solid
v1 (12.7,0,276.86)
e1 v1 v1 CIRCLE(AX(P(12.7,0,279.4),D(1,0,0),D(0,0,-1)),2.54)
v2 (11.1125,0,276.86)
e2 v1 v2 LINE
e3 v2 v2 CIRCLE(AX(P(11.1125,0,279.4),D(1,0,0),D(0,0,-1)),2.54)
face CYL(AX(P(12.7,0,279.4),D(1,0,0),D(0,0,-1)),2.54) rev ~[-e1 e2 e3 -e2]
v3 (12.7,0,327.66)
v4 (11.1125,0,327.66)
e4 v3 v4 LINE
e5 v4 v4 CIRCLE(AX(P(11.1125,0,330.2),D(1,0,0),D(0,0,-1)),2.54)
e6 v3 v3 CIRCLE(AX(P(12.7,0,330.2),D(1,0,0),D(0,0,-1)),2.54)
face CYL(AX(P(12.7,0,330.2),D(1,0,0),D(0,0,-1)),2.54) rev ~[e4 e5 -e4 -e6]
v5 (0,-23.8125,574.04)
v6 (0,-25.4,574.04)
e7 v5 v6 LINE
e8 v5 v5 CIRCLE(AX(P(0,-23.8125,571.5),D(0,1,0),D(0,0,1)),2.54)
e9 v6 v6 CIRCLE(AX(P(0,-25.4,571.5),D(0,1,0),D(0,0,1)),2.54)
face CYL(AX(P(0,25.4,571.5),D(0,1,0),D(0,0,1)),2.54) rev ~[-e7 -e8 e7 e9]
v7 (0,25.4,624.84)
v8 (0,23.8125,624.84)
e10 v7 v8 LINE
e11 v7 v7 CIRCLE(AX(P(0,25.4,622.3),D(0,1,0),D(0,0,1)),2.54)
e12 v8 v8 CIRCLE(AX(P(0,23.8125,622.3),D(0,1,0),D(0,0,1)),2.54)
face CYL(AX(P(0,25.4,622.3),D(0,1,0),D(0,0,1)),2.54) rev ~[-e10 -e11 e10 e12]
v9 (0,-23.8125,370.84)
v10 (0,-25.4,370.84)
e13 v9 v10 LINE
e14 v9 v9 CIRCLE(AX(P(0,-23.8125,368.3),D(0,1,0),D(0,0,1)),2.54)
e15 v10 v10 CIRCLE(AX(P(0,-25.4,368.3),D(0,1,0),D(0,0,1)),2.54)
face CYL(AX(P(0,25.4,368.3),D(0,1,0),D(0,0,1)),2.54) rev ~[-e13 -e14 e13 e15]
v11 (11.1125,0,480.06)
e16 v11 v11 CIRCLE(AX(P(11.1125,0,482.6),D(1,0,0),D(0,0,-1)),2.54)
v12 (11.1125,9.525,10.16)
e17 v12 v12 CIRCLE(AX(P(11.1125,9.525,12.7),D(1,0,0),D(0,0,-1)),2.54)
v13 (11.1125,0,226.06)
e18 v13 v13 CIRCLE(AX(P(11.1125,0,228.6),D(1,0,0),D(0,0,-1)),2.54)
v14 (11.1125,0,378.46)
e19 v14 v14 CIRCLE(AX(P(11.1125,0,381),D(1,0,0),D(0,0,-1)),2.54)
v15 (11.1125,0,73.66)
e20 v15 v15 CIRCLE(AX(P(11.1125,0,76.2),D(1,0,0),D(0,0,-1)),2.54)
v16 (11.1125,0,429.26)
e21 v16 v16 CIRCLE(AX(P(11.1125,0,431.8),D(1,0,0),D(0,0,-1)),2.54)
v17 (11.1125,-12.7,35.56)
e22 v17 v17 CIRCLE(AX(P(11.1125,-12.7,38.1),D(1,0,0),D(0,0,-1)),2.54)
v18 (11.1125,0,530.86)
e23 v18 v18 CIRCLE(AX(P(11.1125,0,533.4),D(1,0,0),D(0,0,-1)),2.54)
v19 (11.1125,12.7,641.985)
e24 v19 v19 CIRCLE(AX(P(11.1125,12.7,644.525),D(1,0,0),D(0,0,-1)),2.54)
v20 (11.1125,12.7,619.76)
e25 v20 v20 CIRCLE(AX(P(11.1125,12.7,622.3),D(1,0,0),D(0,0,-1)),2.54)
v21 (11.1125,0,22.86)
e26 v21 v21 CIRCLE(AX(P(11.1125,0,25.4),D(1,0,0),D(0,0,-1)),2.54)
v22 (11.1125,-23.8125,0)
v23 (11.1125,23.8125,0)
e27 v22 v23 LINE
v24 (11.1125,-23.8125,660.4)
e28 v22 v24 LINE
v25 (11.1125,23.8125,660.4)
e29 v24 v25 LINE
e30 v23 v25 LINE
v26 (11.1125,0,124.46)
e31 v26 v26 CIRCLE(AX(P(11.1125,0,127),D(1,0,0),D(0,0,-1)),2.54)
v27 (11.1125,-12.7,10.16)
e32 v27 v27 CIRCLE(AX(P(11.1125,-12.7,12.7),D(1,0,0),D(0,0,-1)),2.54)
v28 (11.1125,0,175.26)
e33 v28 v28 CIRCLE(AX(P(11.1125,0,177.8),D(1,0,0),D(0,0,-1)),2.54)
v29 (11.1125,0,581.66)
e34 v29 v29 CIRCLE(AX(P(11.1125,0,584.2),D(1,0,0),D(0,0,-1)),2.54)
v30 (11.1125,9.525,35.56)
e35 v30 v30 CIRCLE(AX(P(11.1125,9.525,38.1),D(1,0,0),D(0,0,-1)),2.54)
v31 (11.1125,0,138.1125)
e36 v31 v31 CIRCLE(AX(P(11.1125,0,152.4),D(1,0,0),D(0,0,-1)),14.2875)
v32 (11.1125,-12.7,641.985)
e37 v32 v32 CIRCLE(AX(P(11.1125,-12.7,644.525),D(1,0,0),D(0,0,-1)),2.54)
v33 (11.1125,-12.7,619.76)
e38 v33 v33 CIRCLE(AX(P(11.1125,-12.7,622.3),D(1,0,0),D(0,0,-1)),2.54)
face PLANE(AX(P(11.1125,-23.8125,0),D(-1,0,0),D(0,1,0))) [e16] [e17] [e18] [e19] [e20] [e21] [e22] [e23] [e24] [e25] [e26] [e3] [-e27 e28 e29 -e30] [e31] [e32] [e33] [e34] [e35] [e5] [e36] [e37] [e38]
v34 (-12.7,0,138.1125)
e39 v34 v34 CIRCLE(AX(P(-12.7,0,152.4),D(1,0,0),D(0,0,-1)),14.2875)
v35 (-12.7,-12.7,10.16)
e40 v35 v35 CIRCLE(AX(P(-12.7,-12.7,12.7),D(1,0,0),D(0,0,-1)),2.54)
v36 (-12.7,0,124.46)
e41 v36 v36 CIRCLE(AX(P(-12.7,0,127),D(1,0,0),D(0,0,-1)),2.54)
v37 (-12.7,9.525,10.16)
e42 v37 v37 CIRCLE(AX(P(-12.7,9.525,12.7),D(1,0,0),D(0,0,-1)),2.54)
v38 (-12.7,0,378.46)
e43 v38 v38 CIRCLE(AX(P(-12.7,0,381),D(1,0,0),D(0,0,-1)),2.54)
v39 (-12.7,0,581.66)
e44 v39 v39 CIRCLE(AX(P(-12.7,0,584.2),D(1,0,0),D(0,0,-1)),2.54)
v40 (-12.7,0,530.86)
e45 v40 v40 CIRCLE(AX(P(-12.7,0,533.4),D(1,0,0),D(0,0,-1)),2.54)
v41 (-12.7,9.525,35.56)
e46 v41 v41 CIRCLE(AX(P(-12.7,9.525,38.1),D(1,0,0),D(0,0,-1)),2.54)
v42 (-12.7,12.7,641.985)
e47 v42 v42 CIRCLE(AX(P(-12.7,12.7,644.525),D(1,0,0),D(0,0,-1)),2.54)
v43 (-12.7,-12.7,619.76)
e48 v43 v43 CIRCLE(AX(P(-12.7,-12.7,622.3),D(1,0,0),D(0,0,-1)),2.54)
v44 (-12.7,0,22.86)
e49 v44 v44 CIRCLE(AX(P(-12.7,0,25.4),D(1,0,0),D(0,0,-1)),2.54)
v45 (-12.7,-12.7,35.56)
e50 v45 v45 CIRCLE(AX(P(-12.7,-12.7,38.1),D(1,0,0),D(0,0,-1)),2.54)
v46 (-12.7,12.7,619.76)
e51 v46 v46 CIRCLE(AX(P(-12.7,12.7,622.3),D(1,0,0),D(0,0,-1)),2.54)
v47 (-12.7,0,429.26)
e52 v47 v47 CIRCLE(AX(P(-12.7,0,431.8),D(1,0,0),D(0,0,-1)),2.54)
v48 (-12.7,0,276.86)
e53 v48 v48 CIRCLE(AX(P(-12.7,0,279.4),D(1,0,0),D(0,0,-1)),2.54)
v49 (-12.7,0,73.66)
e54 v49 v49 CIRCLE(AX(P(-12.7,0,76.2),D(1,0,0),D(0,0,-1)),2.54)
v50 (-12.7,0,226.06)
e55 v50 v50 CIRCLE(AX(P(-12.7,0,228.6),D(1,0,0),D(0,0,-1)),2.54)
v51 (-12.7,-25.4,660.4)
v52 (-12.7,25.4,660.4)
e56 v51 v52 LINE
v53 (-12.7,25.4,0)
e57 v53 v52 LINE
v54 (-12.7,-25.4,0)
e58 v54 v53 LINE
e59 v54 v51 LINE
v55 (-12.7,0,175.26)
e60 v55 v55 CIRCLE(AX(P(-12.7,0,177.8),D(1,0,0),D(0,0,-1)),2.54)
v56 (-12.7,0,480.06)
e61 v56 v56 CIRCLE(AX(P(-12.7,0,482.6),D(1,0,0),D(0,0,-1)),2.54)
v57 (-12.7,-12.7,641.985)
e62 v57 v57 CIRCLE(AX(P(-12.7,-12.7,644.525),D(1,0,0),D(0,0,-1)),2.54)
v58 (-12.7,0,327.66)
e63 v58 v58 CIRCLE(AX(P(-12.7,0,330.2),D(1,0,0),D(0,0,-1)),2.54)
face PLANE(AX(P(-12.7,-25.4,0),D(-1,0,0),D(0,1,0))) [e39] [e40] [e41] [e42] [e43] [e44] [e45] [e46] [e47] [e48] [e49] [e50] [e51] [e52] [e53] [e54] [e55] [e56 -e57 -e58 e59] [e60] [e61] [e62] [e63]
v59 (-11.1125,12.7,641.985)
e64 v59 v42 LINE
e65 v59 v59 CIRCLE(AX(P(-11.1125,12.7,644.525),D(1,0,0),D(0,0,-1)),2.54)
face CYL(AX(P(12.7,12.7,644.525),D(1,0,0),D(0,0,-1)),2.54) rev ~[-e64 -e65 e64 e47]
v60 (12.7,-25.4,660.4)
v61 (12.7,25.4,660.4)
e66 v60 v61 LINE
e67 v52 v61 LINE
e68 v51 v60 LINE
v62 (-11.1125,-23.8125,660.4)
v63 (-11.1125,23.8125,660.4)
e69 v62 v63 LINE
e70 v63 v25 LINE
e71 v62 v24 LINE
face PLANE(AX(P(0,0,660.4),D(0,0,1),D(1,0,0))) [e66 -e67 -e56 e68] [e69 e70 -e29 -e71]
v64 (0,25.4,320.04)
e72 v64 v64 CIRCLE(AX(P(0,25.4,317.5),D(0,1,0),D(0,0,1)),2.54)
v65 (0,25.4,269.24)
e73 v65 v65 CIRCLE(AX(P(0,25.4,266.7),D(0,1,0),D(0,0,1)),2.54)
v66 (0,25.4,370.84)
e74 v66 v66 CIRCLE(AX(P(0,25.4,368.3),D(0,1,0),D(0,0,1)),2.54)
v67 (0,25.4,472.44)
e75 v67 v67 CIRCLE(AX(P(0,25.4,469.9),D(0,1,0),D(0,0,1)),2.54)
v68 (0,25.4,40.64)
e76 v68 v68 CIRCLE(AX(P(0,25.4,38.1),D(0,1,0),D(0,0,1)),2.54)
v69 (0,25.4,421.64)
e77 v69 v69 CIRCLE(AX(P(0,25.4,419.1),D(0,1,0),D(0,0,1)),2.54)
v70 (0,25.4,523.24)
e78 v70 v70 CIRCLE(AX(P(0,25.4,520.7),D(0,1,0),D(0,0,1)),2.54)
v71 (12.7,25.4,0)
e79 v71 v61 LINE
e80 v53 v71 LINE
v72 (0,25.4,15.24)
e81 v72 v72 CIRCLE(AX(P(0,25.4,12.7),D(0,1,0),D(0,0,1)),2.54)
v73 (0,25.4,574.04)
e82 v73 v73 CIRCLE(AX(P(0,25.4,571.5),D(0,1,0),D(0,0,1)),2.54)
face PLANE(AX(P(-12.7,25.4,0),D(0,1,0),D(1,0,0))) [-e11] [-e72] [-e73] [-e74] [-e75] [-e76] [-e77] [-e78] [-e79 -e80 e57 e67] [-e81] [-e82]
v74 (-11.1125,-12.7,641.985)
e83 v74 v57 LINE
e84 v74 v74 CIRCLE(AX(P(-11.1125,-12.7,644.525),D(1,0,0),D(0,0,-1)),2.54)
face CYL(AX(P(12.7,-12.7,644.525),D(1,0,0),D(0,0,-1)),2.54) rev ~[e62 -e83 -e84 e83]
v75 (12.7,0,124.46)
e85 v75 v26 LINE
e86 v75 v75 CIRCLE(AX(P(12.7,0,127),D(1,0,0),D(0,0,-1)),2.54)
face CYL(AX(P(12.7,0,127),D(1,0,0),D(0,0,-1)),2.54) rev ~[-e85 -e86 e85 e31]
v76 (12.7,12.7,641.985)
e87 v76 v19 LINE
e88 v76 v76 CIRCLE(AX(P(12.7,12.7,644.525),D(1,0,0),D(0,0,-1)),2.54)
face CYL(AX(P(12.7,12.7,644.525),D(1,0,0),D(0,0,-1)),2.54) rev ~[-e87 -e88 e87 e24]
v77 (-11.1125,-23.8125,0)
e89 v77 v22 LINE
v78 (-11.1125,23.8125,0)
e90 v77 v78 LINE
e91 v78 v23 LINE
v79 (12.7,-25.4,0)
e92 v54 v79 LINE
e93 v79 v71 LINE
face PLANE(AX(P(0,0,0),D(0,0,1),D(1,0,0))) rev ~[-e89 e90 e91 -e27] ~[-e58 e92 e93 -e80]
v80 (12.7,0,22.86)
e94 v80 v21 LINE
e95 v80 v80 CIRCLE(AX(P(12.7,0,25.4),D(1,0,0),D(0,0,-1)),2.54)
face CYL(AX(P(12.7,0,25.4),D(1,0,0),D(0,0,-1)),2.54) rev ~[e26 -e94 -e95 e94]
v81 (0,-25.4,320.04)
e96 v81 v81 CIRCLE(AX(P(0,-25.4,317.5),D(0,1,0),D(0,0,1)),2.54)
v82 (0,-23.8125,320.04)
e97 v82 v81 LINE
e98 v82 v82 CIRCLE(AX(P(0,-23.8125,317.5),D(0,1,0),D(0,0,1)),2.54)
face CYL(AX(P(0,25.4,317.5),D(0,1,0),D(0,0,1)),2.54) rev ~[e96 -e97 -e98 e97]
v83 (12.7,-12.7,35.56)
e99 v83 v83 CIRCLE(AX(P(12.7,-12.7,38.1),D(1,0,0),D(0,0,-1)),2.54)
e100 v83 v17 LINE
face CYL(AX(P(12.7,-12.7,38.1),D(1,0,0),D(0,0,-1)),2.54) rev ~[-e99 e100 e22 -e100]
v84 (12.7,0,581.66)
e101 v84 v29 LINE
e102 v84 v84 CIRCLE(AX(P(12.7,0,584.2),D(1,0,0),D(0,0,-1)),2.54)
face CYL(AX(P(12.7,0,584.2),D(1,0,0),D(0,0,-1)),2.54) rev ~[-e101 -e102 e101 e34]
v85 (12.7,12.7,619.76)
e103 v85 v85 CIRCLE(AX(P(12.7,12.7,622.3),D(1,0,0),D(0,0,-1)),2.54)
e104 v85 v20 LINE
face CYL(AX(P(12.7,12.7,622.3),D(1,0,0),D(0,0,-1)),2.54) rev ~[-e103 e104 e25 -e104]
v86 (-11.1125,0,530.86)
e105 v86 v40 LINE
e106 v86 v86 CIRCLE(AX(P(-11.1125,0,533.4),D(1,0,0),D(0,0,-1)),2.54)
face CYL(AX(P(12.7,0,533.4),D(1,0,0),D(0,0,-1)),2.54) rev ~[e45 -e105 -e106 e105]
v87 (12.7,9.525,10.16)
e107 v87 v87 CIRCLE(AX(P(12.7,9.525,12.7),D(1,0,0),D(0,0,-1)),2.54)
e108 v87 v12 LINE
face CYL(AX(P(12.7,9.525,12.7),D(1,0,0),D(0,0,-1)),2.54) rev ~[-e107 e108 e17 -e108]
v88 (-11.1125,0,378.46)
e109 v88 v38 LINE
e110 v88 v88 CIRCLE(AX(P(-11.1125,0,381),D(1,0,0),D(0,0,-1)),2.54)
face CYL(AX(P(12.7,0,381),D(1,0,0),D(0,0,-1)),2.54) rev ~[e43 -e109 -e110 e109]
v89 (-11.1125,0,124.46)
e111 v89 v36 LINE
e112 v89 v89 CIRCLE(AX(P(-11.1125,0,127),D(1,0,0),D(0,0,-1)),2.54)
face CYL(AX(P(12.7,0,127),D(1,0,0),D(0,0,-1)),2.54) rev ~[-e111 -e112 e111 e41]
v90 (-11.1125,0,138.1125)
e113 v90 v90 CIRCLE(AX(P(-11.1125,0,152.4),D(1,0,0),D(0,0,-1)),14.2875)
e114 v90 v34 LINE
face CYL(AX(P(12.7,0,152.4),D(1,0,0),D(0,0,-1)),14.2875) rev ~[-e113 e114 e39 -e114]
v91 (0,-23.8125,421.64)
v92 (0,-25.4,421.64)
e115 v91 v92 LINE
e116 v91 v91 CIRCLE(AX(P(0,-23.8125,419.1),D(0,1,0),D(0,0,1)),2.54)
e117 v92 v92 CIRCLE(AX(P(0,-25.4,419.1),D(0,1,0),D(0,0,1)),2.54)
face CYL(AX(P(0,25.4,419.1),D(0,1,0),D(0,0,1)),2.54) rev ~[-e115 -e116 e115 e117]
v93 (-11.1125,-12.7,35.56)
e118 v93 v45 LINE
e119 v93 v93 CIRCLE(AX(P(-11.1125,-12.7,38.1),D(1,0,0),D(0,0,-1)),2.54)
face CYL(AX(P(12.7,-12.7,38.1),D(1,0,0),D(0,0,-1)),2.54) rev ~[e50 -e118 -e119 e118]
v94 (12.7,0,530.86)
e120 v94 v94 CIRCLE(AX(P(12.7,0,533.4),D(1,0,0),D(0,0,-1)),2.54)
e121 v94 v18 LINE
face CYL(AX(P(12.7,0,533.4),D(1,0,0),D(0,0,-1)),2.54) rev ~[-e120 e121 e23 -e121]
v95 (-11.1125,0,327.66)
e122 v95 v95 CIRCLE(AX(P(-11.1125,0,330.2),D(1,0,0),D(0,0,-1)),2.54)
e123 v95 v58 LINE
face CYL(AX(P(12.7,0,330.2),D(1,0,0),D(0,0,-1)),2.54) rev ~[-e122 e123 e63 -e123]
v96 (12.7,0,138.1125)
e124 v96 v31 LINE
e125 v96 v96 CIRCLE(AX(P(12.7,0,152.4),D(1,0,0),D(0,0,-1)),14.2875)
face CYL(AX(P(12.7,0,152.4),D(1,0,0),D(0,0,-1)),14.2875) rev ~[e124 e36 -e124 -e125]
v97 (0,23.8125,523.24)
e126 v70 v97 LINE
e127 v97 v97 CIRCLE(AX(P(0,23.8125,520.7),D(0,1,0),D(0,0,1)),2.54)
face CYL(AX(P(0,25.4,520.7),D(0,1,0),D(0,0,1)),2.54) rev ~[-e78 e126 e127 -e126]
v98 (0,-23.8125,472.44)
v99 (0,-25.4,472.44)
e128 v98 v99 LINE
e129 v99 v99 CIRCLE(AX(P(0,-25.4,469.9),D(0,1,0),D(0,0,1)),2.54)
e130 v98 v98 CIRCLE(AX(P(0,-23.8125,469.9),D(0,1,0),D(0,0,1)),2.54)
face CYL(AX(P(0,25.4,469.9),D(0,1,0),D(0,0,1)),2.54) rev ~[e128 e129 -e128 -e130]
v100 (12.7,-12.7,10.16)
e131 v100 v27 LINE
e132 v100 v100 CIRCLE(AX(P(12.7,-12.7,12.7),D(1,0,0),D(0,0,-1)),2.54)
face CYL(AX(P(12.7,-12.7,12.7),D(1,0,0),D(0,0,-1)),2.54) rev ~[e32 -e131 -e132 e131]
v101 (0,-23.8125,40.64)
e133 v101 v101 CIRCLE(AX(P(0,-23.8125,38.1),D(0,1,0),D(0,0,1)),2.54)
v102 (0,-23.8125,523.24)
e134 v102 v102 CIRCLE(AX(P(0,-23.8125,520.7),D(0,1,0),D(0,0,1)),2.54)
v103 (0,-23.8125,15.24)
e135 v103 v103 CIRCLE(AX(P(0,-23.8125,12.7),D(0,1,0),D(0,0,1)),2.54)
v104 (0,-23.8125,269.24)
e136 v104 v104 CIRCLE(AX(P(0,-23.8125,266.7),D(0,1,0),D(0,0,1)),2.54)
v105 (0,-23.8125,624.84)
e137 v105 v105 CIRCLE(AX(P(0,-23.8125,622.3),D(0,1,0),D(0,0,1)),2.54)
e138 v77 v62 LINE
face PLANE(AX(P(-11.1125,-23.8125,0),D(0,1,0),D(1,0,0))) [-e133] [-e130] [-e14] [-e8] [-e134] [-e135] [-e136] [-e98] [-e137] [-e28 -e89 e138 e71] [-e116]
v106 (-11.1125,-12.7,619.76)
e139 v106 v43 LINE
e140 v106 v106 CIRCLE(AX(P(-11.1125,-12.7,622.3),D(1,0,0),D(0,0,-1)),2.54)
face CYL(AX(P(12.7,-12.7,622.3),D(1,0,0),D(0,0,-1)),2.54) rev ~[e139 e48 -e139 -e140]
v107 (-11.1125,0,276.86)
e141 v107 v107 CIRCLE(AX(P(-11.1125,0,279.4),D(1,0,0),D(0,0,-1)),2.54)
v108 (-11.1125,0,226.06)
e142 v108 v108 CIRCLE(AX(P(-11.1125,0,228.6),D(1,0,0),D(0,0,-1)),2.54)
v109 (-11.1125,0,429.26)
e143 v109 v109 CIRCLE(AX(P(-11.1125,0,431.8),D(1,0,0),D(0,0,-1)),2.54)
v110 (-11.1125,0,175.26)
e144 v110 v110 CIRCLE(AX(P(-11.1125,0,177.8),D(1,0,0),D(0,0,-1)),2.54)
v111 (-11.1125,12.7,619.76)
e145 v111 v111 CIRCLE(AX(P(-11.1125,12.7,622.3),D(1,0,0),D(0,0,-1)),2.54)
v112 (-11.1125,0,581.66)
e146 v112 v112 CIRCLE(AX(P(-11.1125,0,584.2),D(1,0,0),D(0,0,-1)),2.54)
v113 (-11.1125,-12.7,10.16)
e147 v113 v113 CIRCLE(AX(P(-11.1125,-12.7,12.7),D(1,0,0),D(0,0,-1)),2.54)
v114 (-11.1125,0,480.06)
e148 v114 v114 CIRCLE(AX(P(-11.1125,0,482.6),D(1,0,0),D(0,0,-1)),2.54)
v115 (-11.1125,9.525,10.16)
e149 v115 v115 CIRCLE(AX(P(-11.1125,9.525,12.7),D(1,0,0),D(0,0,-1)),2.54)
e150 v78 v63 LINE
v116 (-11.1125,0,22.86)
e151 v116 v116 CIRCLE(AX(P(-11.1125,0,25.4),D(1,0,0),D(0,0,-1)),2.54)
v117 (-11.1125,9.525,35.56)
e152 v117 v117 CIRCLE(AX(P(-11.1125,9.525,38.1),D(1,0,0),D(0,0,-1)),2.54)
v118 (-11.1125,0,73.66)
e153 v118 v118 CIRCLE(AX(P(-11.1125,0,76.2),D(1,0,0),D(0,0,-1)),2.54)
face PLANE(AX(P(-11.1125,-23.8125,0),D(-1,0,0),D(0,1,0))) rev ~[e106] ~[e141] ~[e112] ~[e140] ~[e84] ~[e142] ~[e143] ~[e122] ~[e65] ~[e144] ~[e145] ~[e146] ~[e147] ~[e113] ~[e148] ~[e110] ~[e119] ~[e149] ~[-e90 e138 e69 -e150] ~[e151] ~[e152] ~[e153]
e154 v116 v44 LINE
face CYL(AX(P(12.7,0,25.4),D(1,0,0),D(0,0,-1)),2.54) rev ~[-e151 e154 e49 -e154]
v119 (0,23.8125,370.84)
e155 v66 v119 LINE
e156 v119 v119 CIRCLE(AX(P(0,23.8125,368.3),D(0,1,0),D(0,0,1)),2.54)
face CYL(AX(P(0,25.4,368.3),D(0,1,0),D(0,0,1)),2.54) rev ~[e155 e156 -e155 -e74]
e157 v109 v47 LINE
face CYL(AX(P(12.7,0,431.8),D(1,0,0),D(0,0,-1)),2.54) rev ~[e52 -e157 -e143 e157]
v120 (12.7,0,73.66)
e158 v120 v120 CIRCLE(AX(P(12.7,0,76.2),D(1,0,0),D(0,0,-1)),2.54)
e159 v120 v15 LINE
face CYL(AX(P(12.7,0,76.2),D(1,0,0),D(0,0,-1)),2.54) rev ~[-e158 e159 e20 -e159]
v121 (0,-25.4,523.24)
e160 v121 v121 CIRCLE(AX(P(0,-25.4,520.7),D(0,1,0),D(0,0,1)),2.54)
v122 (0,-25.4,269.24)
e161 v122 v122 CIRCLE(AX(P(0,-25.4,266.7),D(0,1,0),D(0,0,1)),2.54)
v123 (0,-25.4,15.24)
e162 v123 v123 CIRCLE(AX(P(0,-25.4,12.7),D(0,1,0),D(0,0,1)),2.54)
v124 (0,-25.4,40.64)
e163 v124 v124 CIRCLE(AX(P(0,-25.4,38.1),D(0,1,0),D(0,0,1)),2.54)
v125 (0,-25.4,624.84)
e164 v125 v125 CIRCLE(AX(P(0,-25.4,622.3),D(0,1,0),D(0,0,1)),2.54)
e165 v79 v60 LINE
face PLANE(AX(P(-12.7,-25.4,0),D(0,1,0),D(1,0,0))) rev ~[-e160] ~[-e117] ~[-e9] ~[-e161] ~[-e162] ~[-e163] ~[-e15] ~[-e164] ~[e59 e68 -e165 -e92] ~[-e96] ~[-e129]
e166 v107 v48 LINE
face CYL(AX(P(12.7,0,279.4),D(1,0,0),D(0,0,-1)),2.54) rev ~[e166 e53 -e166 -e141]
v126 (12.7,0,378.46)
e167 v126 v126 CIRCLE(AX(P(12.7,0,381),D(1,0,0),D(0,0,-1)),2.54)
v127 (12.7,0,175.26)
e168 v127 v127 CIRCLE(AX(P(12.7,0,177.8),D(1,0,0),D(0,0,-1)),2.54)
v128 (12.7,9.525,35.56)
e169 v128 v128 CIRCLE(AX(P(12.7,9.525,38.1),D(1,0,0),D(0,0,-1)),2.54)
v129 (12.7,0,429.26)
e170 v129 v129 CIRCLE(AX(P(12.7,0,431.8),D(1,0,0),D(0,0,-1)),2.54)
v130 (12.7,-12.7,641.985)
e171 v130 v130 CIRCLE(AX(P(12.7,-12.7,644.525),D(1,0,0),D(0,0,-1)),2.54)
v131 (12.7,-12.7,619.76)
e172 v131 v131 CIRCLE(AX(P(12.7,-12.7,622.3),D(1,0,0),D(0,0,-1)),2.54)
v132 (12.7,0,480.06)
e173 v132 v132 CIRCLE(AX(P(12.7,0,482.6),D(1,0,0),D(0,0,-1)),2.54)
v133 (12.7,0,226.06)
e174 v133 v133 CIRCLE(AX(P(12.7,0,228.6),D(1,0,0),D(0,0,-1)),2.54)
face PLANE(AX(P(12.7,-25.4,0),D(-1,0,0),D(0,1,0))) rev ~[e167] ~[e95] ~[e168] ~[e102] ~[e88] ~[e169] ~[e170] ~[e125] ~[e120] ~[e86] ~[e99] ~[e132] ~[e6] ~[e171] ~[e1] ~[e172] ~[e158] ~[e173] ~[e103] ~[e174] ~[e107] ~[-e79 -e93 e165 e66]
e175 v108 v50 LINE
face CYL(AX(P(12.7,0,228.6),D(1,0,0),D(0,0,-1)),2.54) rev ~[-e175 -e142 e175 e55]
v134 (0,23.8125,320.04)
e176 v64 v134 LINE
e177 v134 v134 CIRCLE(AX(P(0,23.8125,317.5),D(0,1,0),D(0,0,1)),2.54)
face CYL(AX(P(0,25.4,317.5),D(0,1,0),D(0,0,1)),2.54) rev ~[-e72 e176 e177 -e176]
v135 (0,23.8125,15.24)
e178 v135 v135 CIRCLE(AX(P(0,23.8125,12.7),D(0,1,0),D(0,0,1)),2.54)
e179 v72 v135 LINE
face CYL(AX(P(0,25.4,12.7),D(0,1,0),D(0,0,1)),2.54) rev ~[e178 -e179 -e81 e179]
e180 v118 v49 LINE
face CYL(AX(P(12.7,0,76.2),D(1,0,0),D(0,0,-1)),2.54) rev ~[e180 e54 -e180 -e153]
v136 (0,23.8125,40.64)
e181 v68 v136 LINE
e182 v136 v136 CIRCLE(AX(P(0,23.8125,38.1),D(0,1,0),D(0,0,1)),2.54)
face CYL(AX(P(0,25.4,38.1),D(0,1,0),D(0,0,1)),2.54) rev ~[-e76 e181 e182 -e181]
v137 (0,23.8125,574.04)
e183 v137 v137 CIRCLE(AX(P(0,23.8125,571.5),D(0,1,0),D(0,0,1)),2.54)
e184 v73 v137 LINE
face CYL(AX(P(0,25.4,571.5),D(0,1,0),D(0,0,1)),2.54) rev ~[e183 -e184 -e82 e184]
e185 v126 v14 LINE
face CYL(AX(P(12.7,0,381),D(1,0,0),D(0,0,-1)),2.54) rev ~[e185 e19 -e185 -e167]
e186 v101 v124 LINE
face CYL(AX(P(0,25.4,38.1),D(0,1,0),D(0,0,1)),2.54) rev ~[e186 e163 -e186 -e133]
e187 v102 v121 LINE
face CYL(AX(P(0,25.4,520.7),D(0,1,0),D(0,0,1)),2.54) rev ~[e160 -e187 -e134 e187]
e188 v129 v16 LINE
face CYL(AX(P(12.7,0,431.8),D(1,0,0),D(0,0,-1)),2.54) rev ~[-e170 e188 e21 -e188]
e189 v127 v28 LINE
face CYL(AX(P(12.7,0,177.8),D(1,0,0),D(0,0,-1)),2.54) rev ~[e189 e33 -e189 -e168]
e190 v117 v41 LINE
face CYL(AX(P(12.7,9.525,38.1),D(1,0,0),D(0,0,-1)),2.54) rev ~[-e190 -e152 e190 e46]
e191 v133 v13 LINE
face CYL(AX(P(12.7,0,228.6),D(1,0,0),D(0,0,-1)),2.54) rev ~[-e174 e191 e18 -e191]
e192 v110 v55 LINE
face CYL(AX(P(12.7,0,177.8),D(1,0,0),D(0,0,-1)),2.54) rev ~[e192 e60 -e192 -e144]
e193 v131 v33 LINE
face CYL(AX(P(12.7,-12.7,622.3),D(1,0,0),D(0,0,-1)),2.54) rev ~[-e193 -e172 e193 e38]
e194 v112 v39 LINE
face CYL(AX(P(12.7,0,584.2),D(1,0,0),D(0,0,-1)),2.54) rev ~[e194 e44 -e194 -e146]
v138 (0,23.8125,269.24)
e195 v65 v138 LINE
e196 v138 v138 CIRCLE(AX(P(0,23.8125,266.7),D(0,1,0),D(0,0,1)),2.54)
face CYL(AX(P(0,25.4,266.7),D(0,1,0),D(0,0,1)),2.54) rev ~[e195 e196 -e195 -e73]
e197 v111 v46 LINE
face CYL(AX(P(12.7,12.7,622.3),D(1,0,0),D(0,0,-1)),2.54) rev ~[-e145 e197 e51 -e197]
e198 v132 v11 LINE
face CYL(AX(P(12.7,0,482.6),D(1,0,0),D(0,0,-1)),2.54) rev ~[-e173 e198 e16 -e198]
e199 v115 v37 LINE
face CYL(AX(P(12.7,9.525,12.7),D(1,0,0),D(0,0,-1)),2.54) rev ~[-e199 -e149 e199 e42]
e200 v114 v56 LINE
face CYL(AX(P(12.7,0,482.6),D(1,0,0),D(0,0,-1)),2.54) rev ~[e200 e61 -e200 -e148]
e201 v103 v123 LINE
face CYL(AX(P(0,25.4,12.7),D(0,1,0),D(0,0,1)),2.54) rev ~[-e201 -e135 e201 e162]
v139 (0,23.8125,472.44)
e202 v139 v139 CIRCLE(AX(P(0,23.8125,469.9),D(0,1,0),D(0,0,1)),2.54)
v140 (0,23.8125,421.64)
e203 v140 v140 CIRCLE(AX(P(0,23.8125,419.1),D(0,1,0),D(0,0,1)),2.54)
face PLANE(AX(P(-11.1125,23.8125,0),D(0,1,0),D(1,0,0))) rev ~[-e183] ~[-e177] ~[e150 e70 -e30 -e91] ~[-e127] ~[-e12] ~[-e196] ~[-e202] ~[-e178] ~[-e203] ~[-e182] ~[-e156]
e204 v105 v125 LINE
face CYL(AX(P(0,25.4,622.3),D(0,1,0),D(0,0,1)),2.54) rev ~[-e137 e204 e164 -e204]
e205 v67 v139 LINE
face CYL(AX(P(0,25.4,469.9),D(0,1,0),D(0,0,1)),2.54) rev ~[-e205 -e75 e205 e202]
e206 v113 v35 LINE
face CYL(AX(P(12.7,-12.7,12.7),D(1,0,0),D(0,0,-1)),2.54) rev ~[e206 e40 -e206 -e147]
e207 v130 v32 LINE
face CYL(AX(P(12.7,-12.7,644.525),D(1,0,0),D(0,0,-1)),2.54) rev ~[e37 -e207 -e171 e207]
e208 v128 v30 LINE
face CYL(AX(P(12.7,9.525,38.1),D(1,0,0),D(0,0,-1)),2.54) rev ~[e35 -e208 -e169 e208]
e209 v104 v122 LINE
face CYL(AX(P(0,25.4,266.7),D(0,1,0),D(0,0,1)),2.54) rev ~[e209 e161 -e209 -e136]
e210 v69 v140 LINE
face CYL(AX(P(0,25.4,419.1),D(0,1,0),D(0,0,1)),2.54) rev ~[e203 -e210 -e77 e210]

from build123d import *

# Parameters (mm, degrees)
SKETCH1_W           = 25.4
SKETCH1_H           = 50.8
SKETCH1_W_2         = 22.225
SKETCH1_H_2         = 47.625
BOSS_EXTRUDE1_DEPTH = 660.4
SKETCH2_R           = 2.54
SKETCH2_R_2         = 14.2875
CUT_EXTRUDE1_DEPTH  = 662.376201568
SKETCH3_R           = 2.54
CUT_EXTRUDE3_DEPTH  = 663.472708872


with BuildPart() as part:
    # Sketch1 → Boss-Extrude1 (new body)
    with BuildSketch(Plane.XY):
        Rectangle(SKETCH1_W, SKETCH1_H)
        Rectangle(SKETCH1_W_2, SKETCH1_H_2, mode=Mode.SUBTRACT)
    extrude(amount=BOSS_EXTRUDE1_DEPTH)

    # Sketch2 → Cut-Extrude1 (cut, through all)
    with BuildSketch(Plane(origin=(12.7, 0, 0), x_dir=(0, 0, -1), z_dir=(1, 0, 0))):
        with Locations((-38.1, 9.525)):
            Circle(SKETCH2_R)
        with Locations((-38.1, -12.7)):
            Circle(SKETCH2_R)
        with Locations((-12.7, 9.525)):
            Circle(SKETCH2_R)
        with Locations((-12.7, -12.7)):
            Circle(SKETCH2_R)
        with Locations((-152.4, 0)):
            Circle(SKETCH2_R_2)
        with Locations((-644.525, -12.7)):
            Circle(SKETCH2_R)
        with Locations((-622.3, -12.7)):
            Circle(SKETCH2_R)
        with Locations((-644.525, 12.7)):
            Circle(SKETCH2_R)
        with Locations((-622.3, 12.7)):
            Circle(SKETCH2_R)
        with Locations((-25.4, 0)):
            Circle(SKETCH2_R)
        with Locations((-76.2, 0)):
            Circle(SKETCH2_R)
        with Locations((-127, 0)):
            Circle(SKETCH2_R)
        with Locations((-177.8, 0)):
            Circle(SKETCH2_R)
        with Locations((-228.6, 0)):
            Circle(SKETCH2_R)
        with Locations((-279.4, 0)):
            Circle(SKETCH2_R)
        with Locations((-330.2, 0)):
            Circle(SKETCH2_R)
        with Locations((-381, 0)):
            Circle(SKETCH2_R)
        with Locations((-431.8, 0)):
            Circle(SKETCH2_R)
        with Locations((-482.6, 0)):
            Circle(SKETCH2_R)
        with Locations((-533.4, 0)):
            Circle(SKETCH2_R)
        with Locations((-584.2, 0)):
            Circle(SKETCH2_R)
    extrude(amount=-CUT_EXTRUDE1_DEPTH, mode=Mode.SUBTRACT)

    # Sketch3 → Cut-Extrude3 (cut, through all)
    with BuildSketch(Plane(origin=(0, 25.4, 0), x_dir=(1, 0, 0), z_dir=(0, 1, 0))):
        with Locations(Location((0, -12.7, 0), (0, 0, 270))):
            Circle(SKETCH3_R)
        with Locations(Location((0, -38.1, 0), (0, 0, 270))):
            Circle(SKETCH3_R)
        with Locations(Location((0, -622.3, 0), (0, 0, 270))):
            Circle(SKETCH3_R)
        with Locations(Location((0, -571.5, 0), (0, 0, 270))):
            Circle(SKETCH3_R)
        with Locations(Location((0, -520.7, 0), (0, 0, 270))):
            Circle(SKETCH3_R)
        with Locations(Location((0, -469.9, 0), (0, 0, 270))):
            Circle(SKETCH3_R)
        with Locations(Location((0, -419.1, 0), (0, 0, 270))):
            Circle(SKETCH3_R)
        with Locations(Location((0, -368.3, 0), (0, 0, 270))):
            Circle(SKETCH3_R)
        with Locations(Location((0, -317.5, 0), (0, 0, 270))):
            Circle(SKETCH3_R)
        with Locations(Location((0, -266.7, 0), (0, 0, 270))):
            Circle(SKETCH3_R)
    extrude(amount=-CUT_EXTRUDE3_DEPTH, mode=Mode.SUBTRACT)


solid = part.part
